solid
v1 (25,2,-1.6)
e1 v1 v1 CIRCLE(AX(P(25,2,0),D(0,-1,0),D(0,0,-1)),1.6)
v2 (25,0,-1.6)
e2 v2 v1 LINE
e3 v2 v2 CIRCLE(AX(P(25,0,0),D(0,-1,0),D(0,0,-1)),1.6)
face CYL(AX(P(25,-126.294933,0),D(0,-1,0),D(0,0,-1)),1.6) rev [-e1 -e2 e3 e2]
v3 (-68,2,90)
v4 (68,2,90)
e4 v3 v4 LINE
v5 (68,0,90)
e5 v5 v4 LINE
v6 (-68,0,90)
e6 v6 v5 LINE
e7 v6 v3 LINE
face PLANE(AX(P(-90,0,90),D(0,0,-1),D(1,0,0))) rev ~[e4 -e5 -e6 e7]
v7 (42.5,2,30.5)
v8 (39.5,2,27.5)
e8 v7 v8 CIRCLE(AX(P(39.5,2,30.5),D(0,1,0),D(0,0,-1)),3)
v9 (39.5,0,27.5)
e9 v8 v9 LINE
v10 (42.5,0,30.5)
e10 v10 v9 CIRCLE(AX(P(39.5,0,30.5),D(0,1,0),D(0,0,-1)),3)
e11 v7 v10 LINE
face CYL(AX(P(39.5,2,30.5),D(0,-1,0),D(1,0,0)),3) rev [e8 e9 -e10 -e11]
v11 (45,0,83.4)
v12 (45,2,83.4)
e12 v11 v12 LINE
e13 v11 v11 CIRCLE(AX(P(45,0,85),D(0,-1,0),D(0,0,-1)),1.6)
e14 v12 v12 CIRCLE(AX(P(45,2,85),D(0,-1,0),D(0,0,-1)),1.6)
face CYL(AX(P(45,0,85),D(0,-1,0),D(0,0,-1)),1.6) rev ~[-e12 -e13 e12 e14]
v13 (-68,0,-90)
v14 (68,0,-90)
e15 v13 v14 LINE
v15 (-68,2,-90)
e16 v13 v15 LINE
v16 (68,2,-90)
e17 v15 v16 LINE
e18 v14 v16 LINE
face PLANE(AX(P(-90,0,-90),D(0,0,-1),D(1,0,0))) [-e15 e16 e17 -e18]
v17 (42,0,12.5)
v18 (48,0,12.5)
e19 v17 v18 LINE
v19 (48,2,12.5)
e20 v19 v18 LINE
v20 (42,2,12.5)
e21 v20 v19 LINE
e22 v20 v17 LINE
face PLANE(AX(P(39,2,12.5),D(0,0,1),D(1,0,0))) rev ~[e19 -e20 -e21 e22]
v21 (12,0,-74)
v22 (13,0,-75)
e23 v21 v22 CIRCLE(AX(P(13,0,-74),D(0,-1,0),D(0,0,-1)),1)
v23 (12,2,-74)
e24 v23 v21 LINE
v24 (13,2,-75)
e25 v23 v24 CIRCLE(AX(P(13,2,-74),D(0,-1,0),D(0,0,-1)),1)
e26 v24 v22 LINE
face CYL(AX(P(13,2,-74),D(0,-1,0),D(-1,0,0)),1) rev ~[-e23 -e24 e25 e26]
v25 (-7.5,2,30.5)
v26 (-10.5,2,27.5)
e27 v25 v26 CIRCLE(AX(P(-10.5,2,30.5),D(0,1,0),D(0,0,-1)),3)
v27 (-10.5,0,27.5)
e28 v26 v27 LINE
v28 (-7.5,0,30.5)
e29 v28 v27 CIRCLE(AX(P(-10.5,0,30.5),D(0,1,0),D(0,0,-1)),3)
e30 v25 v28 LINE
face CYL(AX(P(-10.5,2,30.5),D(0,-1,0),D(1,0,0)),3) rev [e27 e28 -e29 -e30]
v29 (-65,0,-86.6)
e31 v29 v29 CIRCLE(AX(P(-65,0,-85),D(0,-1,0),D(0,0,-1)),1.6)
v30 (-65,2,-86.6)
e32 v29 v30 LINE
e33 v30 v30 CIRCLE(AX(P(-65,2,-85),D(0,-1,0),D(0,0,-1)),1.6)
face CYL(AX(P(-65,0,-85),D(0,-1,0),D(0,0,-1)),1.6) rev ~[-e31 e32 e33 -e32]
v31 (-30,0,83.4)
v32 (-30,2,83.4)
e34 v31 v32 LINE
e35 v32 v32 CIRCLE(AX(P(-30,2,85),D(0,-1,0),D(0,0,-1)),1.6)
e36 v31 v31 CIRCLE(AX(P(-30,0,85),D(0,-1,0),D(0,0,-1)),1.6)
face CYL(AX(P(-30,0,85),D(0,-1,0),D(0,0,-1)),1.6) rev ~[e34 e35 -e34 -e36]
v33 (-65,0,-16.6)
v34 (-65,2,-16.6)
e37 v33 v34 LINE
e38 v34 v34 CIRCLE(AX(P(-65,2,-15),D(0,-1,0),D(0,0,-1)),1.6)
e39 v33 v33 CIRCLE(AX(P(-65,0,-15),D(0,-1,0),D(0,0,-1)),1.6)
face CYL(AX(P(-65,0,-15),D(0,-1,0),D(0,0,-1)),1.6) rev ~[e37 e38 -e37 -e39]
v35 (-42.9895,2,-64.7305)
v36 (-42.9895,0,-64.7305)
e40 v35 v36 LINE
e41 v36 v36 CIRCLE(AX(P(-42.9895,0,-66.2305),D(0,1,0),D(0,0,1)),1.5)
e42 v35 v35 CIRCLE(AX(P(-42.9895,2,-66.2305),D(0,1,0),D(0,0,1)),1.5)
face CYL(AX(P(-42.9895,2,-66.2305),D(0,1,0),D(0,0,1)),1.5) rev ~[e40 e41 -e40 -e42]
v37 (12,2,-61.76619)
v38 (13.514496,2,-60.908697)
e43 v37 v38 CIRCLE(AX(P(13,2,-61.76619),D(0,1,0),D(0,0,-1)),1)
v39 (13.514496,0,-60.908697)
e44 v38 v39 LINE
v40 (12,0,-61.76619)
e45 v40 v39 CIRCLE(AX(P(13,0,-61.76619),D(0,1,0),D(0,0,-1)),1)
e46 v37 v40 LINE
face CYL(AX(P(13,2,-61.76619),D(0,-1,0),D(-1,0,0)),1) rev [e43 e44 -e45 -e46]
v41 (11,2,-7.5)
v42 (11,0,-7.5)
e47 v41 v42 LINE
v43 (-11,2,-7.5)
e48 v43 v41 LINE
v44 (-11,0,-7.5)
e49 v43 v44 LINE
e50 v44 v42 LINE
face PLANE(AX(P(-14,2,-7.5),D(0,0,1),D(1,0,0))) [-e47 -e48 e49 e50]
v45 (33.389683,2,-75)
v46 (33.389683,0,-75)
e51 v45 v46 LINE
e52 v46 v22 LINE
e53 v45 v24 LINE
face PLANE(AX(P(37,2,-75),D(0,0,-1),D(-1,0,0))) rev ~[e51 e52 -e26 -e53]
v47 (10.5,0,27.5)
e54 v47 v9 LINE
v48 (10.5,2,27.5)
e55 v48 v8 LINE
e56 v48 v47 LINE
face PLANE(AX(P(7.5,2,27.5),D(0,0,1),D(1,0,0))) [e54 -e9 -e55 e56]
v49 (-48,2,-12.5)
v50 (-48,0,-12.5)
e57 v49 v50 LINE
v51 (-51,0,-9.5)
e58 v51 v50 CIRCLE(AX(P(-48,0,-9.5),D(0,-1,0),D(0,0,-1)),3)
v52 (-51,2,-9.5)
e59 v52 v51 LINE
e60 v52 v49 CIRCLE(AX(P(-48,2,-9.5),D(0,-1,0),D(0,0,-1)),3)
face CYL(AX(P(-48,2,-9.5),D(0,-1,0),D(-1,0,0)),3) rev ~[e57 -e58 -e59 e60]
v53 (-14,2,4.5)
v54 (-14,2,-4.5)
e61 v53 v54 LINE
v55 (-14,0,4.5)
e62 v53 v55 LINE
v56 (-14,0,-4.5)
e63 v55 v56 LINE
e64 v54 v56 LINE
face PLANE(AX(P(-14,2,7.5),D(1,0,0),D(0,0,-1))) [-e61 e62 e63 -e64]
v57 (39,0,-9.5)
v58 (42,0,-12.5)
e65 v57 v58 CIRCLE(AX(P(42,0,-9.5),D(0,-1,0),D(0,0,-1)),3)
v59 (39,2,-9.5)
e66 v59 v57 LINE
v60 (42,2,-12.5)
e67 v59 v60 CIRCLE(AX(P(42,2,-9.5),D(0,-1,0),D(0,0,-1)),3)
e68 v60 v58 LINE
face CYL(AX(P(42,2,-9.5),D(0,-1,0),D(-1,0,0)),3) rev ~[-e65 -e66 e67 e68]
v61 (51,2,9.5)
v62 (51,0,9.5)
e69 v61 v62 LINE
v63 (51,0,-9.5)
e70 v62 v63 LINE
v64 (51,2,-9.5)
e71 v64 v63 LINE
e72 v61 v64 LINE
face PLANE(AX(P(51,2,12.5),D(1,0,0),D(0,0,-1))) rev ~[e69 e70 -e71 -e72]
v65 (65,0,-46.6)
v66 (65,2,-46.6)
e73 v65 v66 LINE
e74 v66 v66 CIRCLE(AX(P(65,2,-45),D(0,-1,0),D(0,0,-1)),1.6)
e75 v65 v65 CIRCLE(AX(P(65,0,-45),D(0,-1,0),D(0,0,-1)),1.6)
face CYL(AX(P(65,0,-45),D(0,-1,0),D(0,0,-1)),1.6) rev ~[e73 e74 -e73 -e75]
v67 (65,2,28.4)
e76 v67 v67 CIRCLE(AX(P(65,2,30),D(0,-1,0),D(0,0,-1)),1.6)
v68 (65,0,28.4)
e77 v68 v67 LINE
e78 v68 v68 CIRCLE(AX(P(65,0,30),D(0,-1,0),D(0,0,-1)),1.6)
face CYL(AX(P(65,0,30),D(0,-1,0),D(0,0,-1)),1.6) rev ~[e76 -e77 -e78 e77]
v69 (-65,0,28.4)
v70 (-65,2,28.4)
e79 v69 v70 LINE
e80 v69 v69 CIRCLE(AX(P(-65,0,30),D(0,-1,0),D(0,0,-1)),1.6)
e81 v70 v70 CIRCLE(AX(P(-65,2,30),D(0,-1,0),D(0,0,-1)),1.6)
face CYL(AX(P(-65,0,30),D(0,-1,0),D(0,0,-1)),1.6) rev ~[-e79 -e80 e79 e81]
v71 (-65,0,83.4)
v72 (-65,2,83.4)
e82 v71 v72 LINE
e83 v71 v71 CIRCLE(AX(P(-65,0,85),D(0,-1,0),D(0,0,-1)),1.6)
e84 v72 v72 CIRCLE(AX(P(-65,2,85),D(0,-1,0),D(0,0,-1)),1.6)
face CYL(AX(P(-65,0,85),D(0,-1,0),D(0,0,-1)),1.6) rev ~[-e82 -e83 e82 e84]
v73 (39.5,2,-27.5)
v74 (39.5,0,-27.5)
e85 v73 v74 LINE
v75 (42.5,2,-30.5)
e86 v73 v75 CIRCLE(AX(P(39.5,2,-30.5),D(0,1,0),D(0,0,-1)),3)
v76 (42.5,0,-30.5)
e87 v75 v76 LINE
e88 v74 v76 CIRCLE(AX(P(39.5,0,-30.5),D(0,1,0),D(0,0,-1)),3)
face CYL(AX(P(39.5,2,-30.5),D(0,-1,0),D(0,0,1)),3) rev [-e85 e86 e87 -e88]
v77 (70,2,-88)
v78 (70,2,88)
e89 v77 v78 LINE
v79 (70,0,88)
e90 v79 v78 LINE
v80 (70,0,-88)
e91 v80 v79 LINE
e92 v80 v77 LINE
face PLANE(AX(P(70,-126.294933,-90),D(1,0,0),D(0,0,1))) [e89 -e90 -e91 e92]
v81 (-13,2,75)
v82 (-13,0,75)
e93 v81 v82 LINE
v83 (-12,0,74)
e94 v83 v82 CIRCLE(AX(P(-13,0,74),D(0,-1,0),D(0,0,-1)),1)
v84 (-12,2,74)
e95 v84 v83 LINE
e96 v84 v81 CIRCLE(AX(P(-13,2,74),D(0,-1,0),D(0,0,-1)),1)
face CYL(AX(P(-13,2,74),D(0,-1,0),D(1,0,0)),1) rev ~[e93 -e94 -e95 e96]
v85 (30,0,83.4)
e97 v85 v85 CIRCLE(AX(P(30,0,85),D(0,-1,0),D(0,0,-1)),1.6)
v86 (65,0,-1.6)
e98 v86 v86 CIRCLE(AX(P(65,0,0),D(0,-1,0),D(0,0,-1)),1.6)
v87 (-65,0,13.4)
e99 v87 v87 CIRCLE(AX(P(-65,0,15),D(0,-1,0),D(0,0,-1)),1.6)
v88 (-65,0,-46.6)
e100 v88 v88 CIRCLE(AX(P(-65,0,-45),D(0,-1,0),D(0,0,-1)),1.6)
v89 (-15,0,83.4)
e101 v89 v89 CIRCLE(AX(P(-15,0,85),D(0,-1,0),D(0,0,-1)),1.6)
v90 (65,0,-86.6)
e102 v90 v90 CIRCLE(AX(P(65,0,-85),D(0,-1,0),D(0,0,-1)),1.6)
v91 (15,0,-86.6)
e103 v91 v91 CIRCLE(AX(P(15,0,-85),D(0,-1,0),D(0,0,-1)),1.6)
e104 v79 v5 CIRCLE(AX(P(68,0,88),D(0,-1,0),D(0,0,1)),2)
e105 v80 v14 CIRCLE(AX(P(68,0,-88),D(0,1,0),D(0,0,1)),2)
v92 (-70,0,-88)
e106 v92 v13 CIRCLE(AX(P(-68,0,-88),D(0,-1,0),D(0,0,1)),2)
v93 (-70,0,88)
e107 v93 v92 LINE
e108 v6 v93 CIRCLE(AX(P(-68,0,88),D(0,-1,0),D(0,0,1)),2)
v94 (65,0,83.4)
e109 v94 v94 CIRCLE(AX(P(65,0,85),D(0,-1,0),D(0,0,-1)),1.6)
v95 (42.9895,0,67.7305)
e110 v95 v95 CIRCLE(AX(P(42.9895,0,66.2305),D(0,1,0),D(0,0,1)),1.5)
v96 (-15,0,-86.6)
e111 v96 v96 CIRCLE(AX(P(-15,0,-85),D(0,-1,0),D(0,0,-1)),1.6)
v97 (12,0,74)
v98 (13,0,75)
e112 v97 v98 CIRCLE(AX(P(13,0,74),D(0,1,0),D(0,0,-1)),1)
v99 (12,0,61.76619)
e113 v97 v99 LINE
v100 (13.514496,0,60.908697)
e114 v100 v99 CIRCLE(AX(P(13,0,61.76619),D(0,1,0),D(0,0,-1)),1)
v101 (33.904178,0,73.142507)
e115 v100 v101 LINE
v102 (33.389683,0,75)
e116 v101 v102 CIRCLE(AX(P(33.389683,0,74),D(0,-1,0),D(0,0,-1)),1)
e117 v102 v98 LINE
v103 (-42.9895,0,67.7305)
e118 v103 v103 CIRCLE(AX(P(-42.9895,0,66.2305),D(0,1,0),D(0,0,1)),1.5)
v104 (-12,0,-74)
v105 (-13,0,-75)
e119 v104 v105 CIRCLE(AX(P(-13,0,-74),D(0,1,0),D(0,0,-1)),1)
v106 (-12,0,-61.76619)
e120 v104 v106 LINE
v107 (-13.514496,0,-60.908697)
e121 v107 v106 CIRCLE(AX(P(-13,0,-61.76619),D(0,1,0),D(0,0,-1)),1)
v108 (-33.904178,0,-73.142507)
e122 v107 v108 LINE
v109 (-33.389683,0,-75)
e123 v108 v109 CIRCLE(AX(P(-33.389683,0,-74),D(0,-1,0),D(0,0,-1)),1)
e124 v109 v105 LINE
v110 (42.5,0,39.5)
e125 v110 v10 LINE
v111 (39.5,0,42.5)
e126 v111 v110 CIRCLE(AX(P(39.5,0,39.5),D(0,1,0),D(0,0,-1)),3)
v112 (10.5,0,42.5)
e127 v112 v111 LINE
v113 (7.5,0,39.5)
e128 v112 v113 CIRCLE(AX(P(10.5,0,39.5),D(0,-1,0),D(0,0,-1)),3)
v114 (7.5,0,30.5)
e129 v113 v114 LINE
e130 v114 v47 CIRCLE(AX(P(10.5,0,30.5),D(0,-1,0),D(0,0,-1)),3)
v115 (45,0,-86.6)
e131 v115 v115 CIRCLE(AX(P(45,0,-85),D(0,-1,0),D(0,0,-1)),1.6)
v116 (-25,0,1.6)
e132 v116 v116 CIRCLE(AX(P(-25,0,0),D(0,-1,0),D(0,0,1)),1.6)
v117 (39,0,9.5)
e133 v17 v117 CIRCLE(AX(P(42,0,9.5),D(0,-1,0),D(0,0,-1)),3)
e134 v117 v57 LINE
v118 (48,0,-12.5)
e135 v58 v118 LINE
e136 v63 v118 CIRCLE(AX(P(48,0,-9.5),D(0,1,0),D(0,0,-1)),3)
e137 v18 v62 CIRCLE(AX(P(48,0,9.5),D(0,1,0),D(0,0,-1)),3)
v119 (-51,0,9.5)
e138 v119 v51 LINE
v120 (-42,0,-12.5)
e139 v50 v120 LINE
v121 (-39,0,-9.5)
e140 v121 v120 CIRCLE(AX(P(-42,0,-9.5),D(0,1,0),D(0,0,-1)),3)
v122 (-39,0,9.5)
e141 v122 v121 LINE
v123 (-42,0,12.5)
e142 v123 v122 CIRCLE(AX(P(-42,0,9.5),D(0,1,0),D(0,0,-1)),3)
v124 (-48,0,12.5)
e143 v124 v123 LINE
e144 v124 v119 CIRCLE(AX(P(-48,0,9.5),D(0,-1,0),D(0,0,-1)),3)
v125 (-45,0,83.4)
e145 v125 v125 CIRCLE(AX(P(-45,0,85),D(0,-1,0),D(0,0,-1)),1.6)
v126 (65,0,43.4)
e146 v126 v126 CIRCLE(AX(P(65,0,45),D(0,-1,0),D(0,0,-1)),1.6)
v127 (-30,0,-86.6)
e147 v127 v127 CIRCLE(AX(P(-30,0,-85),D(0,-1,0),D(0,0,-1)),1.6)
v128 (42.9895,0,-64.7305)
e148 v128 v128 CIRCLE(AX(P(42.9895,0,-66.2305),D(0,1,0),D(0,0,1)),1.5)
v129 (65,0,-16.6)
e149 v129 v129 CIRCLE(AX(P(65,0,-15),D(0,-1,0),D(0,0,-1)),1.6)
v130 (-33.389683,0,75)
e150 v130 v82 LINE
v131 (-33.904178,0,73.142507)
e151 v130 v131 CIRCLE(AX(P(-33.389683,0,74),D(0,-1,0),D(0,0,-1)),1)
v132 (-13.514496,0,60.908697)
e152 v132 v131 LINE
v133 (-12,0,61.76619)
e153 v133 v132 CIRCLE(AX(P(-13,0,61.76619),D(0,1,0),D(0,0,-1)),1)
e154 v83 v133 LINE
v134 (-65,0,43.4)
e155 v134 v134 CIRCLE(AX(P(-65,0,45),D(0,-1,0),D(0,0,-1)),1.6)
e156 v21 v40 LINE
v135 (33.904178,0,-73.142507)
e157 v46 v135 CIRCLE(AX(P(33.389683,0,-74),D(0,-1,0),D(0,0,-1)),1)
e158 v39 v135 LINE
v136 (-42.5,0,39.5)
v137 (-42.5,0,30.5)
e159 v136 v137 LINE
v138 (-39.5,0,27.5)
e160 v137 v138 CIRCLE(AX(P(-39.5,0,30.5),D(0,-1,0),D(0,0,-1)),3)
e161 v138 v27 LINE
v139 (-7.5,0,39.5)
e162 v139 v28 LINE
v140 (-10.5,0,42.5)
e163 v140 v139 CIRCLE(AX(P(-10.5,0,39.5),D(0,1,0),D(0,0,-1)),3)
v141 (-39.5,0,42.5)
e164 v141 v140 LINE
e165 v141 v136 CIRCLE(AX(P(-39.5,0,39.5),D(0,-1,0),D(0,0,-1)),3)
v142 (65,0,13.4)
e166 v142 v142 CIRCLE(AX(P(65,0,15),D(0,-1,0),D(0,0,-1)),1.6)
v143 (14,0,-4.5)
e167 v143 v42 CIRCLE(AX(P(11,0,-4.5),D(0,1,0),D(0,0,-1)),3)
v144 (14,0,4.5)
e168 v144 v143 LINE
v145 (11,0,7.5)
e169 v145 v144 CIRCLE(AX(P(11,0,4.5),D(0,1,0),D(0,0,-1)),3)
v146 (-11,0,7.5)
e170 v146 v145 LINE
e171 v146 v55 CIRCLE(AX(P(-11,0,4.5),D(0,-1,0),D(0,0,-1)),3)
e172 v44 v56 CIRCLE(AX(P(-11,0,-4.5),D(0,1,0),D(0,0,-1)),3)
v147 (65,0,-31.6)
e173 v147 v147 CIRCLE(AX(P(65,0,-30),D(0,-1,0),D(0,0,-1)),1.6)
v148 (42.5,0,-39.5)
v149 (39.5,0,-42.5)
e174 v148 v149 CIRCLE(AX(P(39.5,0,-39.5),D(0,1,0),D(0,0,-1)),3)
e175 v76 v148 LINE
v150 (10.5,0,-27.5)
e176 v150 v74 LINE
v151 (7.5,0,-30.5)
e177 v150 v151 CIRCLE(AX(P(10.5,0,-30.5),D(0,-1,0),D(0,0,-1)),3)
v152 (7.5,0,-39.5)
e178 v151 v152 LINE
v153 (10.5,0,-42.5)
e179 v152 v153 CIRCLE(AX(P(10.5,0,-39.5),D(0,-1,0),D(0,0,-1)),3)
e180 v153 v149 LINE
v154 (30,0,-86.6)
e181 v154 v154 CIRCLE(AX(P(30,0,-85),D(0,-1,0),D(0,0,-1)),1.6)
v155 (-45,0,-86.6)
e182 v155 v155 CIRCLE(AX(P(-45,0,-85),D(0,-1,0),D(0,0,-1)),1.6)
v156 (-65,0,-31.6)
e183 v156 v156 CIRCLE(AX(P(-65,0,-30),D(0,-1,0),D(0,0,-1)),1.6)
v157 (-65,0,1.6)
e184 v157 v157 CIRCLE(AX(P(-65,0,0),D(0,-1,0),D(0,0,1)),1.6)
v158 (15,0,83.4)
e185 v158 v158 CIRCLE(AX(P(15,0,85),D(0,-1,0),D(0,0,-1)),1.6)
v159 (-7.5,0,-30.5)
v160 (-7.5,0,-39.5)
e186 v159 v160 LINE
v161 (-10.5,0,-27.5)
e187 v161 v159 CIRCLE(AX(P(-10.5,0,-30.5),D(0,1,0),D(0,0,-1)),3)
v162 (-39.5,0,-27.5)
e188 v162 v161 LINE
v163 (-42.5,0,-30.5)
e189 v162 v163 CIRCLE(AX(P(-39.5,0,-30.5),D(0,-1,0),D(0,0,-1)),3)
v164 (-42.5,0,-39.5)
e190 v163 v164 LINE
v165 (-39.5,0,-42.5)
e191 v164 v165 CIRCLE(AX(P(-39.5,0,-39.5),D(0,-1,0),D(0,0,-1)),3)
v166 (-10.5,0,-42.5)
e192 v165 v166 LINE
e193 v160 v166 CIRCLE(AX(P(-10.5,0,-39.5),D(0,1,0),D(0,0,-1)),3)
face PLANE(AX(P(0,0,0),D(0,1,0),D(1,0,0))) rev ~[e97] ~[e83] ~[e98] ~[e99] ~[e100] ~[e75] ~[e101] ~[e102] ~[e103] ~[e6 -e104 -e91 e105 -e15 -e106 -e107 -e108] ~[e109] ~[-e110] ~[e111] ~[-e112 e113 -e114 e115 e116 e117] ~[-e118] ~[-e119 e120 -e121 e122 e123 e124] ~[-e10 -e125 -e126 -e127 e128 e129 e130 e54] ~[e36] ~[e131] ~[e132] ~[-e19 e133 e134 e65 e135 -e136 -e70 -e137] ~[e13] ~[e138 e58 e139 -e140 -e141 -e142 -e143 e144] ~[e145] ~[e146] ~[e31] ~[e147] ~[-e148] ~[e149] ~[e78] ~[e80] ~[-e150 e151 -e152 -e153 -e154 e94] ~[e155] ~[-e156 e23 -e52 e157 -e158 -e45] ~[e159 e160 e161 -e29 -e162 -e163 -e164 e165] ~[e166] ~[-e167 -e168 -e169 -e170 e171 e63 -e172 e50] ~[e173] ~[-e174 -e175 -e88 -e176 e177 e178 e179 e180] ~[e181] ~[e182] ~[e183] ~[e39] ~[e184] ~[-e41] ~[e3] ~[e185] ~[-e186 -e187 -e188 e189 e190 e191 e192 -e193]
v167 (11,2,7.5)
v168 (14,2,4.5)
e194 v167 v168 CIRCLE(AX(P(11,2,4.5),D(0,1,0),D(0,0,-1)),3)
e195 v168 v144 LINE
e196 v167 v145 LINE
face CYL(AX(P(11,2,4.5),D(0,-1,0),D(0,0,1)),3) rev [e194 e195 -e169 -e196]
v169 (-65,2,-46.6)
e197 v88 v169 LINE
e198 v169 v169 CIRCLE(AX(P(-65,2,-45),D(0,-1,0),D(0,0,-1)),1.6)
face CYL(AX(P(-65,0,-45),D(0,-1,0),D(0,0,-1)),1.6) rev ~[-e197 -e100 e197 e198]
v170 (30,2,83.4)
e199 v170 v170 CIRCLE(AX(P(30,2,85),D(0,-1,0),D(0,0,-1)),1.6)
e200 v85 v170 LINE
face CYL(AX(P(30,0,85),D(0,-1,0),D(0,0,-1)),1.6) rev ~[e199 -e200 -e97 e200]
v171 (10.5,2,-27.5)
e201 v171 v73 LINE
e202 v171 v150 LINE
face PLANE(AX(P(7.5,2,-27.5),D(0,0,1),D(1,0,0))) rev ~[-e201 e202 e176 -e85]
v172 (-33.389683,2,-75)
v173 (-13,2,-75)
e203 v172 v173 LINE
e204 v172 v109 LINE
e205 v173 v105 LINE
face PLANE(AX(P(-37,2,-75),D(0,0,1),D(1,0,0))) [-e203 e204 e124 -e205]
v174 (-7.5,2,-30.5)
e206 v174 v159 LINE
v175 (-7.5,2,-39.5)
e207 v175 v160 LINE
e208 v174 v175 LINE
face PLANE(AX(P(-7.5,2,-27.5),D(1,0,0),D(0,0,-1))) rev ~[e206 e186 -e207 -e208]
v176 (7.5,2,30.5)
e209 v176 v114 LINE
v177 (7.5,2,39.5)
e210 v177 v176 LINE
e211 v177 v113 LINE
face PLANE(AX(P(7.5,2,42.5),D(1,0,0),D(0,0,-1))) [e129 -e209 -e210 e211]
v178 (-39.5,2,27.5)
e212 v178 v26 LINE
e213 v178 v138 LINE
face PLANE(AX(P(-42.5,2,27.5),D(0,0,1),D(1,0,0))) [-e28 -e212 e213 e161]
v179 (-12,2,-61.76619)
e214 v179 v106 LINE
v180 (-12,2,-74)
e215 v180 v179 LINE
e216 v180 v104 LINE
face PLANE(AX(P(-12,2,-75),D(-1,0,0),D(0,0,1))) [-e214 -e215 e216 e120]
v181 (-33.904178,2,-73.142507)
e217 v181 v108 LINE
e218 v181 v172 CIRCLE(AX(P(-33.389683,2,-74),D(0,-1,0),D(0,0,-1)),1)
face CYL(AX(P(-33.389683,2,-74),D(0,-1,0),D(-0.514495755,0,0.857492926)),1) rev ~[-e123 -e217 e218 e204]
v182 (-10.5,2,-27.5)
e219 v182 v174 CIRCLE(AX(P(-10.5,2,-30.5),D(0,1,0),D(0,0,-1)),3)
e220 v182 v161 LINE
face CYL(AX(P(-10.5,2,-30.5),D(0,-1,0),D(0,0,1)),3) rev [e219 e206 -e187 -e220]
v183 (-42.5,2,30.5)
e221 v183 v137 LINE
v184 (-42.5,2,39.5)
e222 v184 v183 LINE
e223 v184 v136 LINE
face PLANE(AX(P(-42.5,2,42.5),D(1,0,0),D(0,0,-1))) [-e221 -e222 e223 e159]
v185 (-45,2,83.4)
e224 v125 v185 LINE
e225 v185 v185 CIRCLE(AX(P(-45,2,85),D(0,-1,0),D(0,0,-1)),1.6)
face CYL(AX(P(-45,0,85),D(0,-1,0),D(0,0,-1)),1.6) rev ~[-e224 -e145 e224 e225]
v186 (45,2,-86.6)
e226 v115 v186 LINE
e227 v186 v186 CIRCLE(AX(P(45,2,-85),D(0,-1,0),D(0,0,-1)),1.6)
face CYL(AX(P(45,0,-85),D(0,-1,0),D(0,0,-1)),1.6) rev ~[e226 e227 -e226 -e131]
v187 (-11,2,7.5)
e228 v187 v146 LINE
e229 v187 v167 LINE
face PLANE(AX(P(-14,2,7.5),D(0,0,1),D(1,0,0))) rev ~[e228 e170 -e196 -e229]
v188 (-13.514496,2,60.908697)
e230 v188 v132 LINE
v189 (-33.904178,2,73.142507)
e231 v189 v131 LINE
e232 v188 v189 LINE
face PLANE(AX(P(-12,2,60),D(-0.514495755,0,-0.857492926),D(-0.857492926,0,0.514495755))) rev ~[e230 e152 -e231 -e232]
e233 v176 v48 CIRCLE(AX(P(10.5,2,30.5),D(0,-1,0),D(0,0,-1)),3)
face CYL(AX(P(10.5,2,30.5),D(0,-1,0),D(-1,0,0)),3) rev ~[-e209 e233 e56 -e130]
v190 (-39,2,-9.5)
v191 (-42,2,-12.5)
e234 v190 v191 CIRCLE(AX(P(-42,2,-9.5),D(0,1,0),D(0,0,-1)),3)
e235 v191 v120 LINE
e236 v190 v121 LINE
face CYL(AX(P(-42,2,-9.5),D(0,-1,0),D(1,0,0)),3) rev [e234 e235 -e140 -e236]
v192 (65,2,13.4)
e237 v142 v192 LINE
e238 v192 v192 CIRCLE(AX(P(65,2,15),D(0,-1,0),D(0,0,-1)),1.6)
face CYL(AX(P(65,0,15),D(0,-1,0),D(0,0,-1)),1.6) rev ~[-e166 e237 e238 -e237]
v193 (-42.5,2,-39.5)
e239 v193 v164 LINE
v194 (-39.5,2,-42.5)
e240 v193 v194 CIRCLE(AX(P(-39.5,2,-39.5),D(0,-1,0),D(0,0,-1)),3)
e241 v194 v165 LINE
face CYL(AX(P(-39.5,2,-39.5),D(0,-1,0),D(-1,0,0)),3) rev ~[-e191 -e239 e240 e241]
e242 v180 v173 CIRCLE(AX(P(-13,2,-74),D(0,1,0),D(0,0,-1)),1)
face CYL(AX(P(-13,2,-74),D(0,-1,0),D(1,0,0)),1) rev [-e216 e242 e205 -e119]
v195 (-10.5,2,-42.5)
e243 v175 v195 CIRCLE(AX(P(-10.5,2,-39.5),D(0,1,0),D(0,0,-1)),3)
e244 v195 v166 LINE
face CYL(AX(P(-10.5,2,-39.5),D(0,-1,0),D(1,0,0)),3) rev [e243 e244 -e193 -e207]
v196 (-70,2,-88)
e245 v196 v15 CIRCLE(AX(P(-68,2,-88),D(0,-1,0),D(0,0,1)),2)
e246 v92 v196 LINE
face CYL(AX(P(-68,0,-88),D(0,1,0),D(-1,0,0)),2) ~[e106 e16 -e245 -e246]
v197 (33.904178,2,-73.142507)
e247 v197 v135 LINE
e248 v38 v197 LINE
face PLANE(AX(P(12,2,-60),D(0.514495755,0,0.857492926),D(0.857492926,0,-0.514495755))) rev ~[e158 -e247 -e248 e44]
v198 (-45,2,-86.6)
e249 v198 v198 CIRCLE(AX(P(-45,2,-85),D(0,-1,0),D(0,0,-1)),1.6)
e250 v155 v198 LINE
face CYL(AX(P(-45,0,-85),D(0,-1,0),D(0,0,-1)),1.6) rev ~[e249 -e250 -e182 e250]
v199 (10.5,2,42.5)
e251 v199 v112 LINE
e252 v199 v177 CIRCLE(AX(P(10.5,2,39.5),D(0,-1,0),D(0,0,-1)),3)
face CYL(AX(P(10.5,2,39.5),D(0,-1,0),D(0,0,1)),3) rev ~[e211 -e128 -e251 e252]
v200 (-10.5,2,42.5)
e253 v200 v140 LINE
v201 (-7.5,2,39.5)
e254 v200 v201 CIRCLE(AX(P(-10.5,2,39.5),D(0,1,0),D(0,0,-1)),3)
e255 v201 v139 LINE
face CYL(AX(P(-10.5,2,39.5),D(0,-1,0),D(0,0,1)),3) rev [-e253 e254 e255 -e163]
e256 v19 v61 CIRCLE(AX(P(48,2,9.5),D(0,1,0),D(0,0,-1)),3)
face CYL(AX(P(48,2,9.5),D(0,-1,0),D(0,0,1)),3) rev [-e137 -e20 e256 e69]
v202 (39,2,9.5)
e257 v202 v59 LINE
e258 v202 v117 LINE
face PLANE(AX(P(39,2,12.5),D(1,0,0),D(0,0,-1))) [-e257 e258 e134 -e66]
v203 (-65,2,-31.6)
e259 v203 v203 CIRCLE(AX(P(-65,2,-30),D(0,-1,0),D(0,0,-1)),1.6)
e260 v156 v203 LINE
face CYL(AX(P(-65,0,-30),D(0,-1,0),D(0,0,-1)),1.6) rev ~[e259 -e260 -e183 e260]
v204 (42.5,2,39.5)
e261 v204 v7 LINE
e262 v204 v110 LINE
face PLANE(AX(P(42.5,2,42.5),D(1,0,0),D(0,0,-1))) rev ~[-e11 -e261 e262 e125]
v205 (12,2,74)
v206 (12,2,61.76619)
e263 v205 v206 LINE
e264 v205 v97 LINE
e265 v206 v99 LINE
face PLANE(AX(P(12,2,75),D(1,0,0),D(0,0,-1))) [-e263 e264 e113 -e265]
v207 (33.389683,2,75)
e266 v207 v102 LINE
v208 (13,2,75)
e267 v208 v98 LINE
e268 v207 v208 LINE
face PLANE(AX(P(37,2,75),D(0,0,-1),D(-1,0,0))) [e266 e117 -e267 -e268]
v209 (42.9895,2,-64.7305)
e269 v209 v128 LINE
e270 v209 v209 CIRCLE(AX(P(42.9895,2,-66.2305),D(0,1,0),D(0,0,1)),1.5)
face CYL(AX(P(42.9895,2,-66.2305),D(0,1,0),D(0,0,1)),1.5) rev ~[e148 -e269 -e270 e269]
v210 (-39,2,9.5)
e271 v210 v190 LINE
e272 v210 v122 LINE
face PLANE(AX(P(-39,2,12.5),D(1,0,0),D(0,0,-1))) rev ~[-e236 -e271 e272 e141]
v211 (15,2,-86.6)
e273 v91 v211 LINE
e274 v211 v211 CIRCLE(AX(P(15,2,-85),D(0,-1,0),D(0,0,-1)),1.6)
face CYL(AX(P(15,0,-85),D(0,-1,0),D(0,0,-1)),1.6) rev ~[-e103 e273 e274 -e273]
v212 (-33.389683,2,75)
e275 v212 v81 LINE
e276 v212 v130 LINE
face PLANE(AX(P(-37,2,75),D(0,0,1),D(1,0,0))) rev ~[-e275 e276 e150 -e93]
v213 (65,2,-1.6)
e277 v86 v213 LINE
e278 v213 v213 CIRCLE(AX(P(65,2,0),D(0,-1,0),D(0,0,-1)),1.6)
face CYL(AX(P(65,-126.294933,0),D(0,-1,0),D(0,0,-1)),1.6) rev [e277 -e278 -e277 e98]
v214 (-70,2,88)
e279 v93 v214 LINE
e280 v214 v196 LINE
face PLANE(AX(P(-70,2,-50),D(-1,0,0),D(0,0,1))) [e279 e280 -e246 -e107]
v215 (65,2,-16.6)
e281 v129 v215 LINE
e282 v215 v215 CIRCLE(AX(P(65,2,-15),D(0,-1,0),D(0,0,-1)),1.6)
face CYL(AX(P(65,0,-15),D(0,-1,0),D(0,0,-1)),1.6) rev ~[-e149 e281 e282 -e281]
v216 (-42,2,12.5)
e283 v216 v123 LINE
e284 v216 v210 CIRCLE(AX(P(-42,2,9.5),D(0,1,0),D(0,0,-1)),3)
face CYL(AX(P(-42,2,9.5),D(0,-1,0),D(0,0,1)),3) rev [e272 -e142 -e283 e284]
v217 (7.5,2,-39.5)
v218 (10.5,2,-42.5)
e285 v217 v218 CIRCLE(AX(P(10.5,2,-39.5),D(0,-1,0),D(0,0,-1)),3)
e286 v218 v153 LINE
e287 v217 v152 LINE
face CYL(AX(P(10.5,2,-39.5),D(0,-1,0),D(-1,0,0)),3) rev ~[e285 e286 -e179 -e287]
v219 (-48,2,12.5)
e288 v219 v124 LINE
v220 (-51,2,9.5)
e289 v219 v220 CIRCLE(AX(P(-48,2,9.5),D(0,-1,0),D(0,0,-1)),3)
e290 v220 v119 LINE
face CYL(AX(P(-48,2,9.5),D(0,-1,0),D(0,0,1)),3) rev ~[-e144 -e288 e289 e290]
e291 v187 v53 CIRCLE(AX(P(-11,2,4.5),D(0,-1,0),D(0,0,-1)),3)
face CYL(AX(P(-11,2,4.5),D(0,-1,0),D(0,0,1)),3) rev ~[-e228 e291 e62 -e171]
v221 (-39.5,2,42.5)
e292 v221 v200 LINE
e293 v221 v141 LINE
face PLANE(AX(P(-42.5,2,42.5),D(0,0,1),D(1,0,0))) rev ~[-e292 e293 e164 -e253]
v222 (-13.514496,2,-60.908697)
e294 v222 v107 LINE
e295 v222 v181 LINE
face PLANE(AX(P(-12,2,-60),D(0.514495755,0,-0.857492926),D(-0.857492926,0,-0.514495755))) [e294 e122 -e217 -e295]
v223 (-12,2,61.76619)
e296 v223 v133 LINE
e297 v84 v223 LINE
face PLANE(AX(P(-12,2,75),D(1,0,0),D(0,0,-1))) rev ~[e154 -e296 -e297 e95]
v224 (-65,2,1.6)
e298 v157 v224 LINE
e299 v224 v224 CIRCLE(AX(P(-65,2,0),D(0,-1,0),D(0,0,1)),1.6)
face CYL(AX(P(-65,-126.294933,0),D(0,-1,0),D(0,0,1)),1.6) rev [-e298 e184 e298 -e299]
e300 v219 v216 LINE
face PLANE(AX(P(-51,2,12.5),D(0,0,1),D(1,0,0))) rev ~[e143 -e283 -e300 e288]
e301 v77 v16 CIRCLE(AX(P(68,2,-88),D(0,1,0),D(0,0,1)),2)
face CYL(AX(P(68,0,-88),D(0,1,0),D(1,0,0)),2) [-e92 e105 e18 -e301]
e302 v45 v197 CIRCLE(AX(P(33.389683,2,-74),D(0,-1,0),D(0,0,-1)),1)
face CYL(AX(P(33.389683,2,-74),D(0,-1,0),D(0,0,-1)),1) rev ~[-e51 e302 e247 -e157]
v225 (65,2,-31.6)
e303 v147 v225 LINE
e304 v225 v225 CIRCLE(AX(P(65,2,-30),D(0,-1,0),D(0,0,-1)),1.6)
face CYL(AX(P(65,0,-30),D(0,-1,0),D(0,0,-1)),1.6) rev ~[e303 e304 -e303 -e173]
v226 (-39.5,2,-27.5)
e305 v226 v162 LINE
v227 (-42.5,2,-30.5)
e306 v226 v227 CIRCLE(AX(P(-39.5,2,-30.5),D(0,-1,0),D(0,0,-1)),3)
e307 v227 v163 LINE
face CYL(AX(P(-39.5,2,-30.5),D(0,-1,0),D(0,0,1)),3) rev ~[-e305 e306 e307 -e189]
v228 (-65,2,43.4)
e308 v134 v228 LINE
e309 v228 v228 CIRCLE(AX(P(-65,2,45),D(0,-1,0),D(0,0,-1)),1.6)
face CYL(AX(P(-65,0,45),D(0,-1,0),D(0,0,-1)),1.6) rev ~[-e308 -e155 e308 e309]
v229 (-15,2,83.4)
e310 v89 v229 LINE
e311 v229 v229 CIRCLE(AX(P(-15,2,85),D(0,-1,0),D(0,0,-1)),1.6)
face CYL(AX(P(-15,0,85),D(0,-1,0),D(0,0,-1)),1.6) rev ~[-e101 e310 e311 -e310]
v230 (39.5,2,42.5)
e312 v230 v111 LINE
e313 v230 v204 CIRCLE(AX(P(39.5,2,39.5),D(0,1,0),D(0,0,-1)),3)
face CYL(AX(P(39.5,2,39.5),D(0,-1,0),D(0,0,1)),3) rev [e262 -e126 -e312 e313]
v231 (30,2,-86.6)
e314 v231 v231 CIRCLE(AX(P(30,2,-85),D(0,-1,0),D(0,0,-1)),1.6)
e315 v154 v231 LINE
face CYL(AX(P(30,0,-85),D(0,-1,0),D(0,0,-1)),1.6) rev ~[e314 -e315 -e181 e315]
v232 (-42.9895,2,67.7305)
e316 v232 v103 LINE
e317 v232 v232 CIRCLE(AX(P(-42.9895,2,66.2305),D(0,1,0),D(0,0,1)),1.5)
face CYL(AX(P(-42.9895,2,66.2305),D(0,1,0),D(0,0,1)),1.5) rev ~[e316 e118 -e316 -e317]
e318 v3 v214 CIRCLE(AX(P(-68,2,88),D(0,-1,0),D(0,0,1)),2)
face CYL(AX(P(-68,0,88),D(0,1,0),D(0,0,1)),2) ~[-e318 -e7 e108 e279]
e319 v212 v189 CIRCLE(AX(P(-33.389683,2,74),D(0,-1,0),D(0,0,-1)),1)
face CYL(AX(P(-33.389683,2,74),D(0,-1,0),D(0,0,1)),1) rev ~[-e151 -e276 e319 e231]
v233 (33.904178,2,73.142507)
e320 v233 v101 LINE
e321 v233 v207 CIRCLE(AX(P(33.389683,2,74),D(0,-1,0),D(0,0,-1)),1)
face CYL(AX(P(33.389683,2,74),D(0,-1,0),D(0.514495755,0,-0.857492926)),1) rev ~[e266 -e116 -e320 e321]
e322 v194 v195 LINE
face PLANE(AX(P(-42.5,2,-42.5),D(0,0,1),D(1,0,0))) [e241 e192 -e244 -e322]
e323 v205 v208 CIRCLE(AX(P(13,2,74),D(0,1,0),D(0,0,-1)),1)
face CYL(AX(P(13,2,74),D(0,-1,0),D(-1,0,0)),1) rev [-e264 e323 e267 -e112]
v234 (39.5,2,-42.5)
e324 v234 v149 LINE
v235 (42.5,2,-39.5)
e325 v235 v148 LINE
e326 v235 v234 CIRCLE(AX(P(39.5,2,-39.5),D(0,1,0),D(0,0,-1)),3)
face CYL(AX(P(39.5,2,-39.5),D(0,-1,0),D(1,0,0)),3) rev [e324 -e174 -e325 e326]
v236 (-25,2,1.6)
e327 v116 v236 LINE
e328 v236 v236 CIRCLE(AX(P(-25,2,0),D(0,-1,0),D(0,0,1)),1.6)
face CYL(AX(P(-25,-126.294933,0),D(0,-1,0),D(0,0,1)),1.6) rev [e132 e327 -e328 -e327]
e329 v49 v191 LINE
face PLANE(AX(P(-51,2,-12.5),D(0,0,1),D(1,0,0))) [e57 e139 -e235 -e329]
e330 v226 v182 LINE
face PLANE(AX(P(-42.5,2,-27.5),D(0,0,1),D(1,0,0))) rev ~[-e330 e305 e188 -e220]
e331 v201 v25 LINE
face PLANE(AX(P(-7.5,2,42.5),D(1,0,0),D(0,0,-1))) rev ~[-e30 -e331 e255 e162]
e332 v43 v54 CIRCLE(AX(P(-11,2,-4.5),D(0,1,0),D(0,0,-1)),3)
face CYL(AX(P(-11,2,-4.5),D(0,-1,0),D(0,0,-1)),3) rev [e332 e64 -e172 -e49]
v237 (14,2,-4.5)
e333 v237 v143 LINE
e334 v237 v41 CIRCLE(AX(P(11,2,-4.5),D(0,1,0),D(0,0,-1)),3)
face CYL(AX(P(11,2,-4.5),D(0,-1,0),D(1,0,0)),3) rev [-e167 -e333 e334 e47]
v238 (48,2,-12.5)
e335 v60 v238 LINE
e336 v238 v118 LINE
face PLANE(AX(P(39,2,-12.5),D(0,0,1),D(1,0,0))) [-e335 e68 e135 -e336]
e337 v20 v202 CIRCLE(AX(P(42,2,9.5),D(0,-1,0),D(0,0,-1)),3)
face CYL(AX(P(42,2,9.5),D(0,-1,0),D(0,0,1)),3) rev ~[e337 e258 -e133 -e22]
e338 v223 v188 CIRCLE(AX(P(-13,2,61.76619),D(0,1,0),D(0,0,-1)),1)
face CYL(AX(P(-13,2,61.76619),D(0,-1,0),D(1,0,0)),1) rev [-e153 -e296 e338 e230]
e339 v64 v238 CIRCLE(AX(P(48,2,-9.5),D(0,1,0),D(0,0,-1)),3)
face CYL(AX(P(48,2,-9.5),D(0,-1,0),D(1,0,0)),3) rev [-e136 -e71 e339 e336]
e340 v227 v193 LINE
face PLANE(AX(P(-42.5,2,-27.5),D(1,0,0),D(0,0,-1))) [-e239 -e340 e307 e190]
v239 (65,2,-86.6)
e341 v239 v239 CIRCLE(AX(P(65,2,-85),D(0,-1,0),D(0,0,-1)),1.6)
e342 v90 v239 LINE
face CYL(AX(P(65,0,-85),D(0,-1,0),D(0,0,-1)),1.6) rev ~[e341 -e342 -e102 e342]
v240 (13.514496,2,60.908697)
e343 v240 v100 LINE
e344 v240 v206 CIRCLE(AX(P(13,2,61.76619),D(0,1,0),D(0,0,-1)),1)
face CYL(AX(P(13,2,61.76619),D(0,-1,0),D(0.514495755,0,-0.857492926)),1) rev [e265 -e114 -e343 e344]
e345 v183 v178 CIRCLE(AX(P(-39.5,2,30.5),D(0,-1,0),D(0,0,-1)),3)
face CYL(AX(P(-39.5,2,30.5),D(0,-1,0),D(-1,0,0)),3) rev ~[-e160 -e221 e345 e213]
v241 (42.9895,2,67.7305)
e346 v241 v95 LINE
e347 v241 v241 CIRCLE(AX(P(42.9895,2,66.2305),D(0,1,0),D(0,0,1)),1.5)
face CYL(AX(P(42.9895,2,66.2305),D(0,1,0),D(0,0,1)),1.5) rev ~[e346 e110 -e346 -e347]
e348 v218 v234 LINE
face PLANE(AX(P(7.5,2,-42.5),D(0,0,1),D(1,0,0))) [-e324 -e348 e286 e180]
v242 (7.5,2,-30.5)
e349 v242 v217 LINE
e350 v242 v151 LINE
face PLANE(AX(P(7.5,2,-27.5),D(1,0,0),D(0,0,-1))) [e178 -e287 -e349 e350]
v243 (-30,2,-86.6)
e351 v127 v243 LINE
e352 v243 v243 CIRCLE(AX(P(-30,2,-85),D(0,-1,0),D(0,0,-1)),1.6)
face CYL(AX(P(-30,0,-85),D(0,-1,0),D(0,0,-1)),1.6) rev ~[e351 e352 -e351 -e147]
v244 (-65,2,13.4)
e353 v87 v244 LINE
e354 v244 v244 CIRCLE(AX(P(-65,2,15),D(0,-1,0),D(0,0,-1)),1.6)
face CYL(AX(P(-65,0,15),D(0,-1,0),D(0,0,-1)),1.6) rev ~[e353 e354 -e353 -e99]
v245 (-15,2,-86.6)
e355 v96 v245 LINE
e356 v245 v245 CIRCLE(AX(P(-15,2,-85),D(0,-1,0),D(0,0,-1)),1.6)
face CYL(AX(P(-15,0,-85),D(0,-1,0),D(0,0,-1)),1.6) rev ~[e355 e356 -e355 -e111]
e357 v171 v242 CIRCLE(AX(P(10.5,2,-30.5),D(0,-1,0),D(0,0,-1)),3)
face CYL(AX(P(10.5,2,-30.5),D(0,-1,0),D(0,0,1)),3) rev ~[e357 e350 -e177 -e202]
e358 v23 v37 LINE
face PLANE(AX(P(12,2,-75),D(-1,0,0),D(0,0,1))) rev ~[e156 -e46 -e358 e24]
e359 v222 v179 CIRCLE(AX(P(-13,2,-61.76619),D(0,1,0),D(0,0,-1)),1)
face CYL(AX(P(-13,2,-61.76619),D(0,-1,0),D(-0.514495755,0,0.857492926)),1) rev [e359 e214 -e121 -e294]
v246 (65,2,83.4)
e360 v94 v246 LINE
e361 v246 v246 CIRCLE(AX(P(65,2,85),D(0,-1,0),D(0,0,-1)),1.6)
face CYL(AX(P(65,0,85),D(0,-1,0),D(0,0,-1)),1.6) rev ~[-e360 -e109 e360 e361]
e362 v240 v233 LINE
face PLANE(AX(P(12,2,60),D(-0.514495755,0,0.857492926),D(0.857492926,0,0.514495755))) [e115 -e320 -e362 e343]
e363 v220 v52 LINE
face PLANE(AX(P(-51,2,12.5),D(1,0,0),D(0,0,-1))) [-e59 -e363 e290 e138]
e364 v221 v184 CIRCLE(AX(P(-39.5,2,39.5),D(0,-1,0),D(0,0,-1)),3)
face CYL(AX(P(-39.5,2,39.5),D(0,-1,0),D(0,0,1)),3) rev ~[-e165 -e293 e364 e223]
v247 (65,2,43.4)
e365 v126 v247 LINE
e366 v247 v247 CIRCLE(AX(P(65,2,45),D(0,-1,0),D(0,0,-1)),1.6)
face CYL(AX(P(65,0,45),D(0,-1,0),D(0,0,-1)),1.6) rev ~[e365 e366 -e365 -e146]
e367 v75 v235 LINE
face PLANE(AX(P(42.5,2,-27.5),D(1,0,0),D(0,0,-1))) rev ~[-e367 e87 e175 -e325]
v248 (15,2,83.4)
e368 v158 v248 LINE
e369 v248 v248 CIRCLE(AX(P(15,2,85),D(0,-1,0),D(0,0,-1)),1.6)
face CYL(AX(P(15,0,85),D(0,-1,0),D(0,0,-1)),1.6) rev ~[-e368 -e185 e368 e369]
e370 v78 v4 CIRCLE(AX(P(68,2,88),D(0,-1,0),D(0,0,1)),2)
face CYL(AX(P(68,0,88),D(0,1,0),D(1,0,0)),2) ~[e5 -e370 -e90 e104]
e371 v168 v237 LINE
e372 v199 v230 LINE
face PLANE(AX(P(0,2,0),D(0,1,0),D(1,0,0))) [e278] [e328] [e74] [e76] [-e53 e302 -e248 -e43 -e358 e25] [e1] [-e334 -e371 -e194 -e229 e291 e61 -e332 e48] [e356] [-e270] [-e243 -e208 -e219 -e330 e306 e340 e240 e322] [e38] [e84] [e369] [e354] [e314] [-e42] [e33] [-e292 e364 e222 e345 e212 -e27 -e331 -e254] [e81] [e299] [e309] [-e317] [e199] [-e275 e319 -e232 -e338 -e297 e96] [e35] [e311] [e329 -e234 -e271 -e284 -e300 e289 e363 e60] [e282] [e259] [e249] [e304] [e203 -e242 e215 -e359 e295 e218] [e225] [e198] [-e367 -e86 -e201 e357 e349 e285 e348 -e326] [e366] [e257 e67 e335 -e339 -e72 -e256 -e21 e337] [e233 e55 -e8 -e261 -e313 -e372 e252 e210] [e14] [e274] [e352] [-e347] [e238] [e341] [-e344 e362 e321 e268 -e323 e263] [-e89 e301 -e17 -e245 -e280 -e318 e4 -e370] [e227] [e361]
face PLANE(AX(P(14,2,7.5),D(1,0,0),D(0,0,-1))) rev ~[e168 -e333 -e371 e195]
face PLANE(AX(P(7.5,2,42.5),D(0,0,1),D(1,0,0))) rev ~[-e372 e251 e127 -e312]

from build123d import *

# Parameters (mm, degrees)
SKETCH_1_W               = 180
SKETCH_1_H               = 180
EXTRUDE_1_DEPTH          = 2
SKETCH_2_R               = 1.5
CUT_EXTRUDE_1_DEPTH      = 3
SKETCH_3_W               = 28
SKETCH_3_H               = 15
SKETCH_3_W_2             = 35
SKETCH_3_W_3             = 12
SKETCH_3_H_2             = 25
CUT_EXTRUDE_2_DEPTH      = 3
FILLET_1_R               = 3
SKETCH_5_R               = 1.7
CUT_EXTRUDE_3_DEPTH      = 128.294933128
CUT_EXTRUDE_4_DEPTH      = 10
SKETCH_7_R               = 1.6
CUT_EXTRUDE_5_DEPTH      = 10
FILLET_2_R               = 3
FILLET_3_R               = 1
CUT_EXTRUDE_6_DEPTH      = 128.294933128
CUT_EXTRUDE_6_DEPTH_BACK = 128.294933128
SKETCH_8_R               = 1.6
FILLET_4_R               = 2


with BuildPart() as part:
    # 草图1 → 凸台-拉伸1 (new body)
    with BuildSketch(Plane(origin=(0, 0, 0), x_dir=(1, 0, 0), z_dir=(0, 1, 0))):
        Rectangle(SKETCH_1_W, SKETCH_1_H)
    extrude(amount=EXTRUDE_1_DEPTH)

    # 草图2 → 切除-拉伸1 (cut)
    with BuildSketch(Plane(origin=(0, 2, 0), x_dir=(1, 0, 0), z_dir=(0, 1, 0))):
        with Locations(Location((-42.9895, 66.2305, 0), (0, 0, 270))):
            Circle(SKETCH_2_R)
        with Locations(Location((42.9895, 66.2305, 0), (0, 0, 270))):
            Circle(SKETCH_2_R)
        with Locations(Location((-42.9895, -66.2305, 0), (0, 0, 270))):
            Circle(SKETCH_2_R)
        with Locations(Location((42.9895, -66.2305, 0), (0, 0, 270))):
            Circle(SKETCH_2_R)
    extrude(amount=-CUT_EXTRUDE_1_DEPTH, mode=Mode.SUBTRACT)

    # 草图3 → 切除-拉伸2 (cut)
    with BuildSketch(Plane(origin=(0, 2, 0), x_dir=(1, 0, 0), z_dir=(0, 1, 0))):
        Rectangle(SKETCH_3_W, SKETCH_3_H)
        with Locations((-25, 35)):
            Rectangle(SKETCH_3_W_2, SKETCH_3_H)
        with Locations((25, 35)):
            Rectangle(SKETCH_3_W_2, SKETCH_3_H)
        with Locations((45, 0)):
            Rectangle(SKETCH_3_W_3, SKETCH_3_H_2)
        with Locations((-45, 0)):
            Rectangle(SKETCH_3_W_3, SKETCH_3_H_2)
        with Locations((-25, -35)):
            Rectangle(SKETCH_3_W_2, SKETCH_3_H)
        with Locations((25, -35)):
            Rectangle(SKETCH_3_W_2, SKETCH_3_H)
        Polygon((-37, 75), (-12, 75), (-12, 60), align=None)
        Polygon((12, 75), (12, 60), (37, 75), align=None)
        Polygon((37, -75), (12, -75), (12, -60), align=None)
        Polygon((-12, -75), (-12, -60), (-37, -75), align=None)
    extrude(amount=-CUT_EXTRUDE_2_DEPTH, mode=Mode.SUBTRACT)

    # 圆角1
    fillet_1_edges = [part.edges().sort_by_distance(p)[0] for p in [
        (14, 1, -7.5),
        (14, 1, 7.5),
        (-14, 1, 7.5),
        (-14, 1, -7.5),
    ]]
    fillet(fillet_1_edges, radius=FILLET_1_R)

    # 草图5 → 切除-拉伸3 (cut, through all)
    with BuildSketch(Plane(origin=(0, 2, 0), x_dir=(1, 0, 0), z_dir=(0, 1, 0))):
        with Locations(Location((77.5, 69.014718626, 0), (0, 0, 270))):
            Circle(SKETCH_5_R)
        with Locations(Location((77.5, 85.985281374, 0), (0, 0, 270))):
            Circle(SKETCH_5_R)
        with Locations(Location((85.985281374, 77.5, 0), (0, 0, 270))):
            Circle(SKETCH_5_R)
        with Locations(Location((-85.985281374, 77.5, 0), (0, 0, 90))):
            Circle(SKETCH_5_R)
        with Locations(Location((-77.5, 85.985281374, 0), (0, 0, 90))):
            Circle(SKETCH_5_R)
        with Locations(Location((-77.5, -85.985281374, 0), (0, 0, 270))):
            Circle(SKETCH_5_R)
        with Locations(Location((-85.985281374, -77.5, 0), (0, 0, 270))):
            Circle(SKETCH_5_R)
        with Locations(Location((85.985281374, -77.5, 0), (0, 0, 90))):
            Circle(SKETCH_5_R)
        with Locations(Location((77.5, -85.985281374, 0), (0, 0, 90))):
            Circle(SKETCH_5_R)
        Polygon((80, 90), (90, 80), (90, 90), align=None)
        Polygon((-90, 90), (-80, 90), (-90, 80), align=None)
        Polygon((-80, -90), (-90, -80), (-90, -90), align=None)
        Polygon((90, -90), (80, -90), (90, -80), align=None)
    extrude(amount=-CUT_EXTRUDE_3_DEPTH, mode=Mode.SUBTRACT)

    # 草图6 → 切除-拉伸4 (cut)
    with BuildSketch(Plane(origin=(0, 2, 0), x_dir=(1, 0, 0), z_dir=(0, 1, 0))):
        Polygon((90, 70), (70, 50), (70, -50), (90, -70), align=None)
        Polygon((-70, -50), (-90, -70), (-90, 70), (-70, 50), align=None)
    extrude(amount=-CUT_EXTRUDE_4_DEPTH, mode=Mode.SUBTRACT)

    # 草图7 → 切除-拉伸5 (cut)
    with BuildSketch(Plane.XZ):
        with Locations(Location((-65, 30, 0), (0, 0, 270))):
            Circle(SKETCH_7_R)
        with Locations(Location((-65, 15, 0), (0, 0, 270))):
            Circle(SKETCH_7_R)
        with Locations(Location((-65, 45, 0), (0, 0, 270))):
            Circle(SKETCH_7_R)
        with Locations(Location((-45, 85, 0), (0, 0, 270))):
            Circle(SKETCH_7_R)
        with Locations(Location((-30, 85, 0), (0, 0, 270))):
            Circle(SKETCH_7_R)
        with Locations(Location((-15, 85, 0), (0, 0, 270))):
            Circle(SKETCH_7_R)
        with Locations(Location((15, 85, 0), (0, 0, 270))):
            Circle(SKETCH_7_R)
        with Locations(Location((30, 85, 0), (0, 0, 270))):
            Circle(SKETCH_7_R)
        with Locations(Location((45, 85, 0), (0, 0, 270))):
            Circle(SKETCH_7_R)
        with Locations(Location((-65, -45, 0), (0, 0, 270))):
            Circle(SKETCH_7_R)
        with Locations(Location((-65, -15, 0), (0, 0, 270))):
            Circle(SKETCH_7_R)
        with Locations(Location((-65, -30, 0), (0, 0, 270))):
            Circle(SKETCH_7_R)
        with Locations(Location((65, -30, 0), (0, 0, 270))):
            Circle(SKETCH_7_R)
        with Locations(Location((65, -15, 0), (0, 0, 270))):
            Circle(SKETCH_7_R)
        with Locations(Location((65, -45, 0), (0, 0, 270))):
            Circle(SKETCH_7_R)
        with Locations(Location((65, 45, 0), (0, 0, 270))):
            Circle(SKETCH_7_R)
        with Locations(Location((65, 15, 0), (0, 0, 270))):
            Circle(SKETCH_7_R)
        with Locations(Location((65, 30, 0), (0, 0, 270))):
            Circle(SKETCH_7_R)
        with Locations(Location((45, -85, 0), (0, 0, 270))):
            Circle(SKETCH_7_R)
        with Locations(Location((30, -85, 0), (0, 0, 270))):
            Circle(SKETCH_7_R)
        with Locations(Location((15, -85, 0), (0, 0, 270))):
            Circle(SKETCH_7_R)
        with Locations(Location((-15, -85, 0), (0, 0, 270))):
            Circle(SKETCH_7_R)
        with Locations(Location((-30, -85, 0), (0, 0, 270))):
            Circle(SKETCH_7_R)
        with Locations(Location((-45, -85, 0), (0, 0, 270))):
            Circle(SKETCH_7_R)
        with Locations(Location((-65, 85, 0), (0, 0, 270))):
            Circle(SKETCH_7_R)
        with Locations(Location((65, 85, 0), (0, 0, 270))):
            Circle(SKETCH_7_R)
        with Locations(Location((65, -85, 0), (0, 0, 270))):
            Circle(SKETCH_7_R)
        with Locations(Location((-65, -85, 0), (0, 0, 270))):
            Circle(SKETCH_7_R)
    extrude(amount=-CUT_EXTRUDE_5_DEPTH, mode=Mode.SUBTRACT)

    # 圆角2
    fillet_2_edges = [part.edges().sort_by_distance(p)[0] for p in [
        (42.5, 1, -42.5),
        (42.5, 1, -27.5),
        (7.5, 1, -27.5),
        (7.5, 1, -42.5),
        (-39, 1, -12.5),
        (-39, 1, 12.5),
        (-51, 1, 12.5),
        (-51, 1, -12.5),
        (51, 1, -12.5),
        (51, 1, 12.5),
        (39, 1, 12.5),
        (39, 1, -12.5),
        (-42.5, 1, 42.5),
        (-42.5, 1, 27.5),
        (-7.5, 1, 27.5),
        (-7.5, 1, 42.5),
        (7.5, 1, 27.5),
        (42.5, 1, 27.5),
        (42.5, 1, 42.5),
        (7.5, 1, 42.5),
        (-90, 1, -80),
        (-80, 1, -90),
        (80, 1, -90),
        (90, 1, -80),
        (90, 1, 80),
        (80, 1, 90),
        (-80, 1, 90),
        (-90, 1, 80),
        (90, 1, -70),
        (90, 1, 70),
        (70, 1, 50),
        (70, 1, -50),
        (-70, 1, -50),
        (-70, 1, 50),
        (-90, 1, 70),
        (-90, 1, -70),
        (-7.5, 1, -42.5),
        (-7.5, 1, -27.5),
        (-42.5, 1, -27.5),
        (-42.5, 1, -42.5),
    ]]
    fillet(fillet_2_edges, radius=FILLET_2_R)

    # 圆角3
    fillet_3_edges = [part.edges().sort_by_distance(p)[0] for p in [
        (-12, 1, -60),
        (-37, 1, -75),
        (-12, 1, -75),
        (12, 1, -75),
        (37, 1, -75),
        (12, 1, -60),
        (-12, 1, 75),
        (-37, 1, 75),
        (-12, 1, 60),
        (12, 1, 60),
        (37, 1, 75),
        (12, 1, 75),
    ]]
    fillet(fillet_3_edges, radius=FILLET_3_R)

    # 草图8 → 切除-拉伸6 (cut, two sides: drawn at the far end of the back side and taken through both)
    with BuildSketch(Plane(origin=(0, 2, 0), x_dir=(1, 0, 0), z_dir=(0, 1, 0)).offset(-CUT_EXTRUDE_6_DEPTH_BACK)):
        with BuildLine():
            Line((-70, 48.757359313), (-70, 90))
            Line((-70, 90), (-78.757359313, 90))
            ThreePointArc((-78.757359313, 90), (-79.90540961, 89.771638598), (-80.878679656, 89.121320344))
            Line((-80.878679656, 89.121320344), (-89.121320344, 80.878679656))
            ThreePointArc((-89.121320344, 80.878679656), (-89.771638598, 79.90540961), (-90, 78.757359313))
            Line((-90, 78.757359313), (-90, 71.242640687))
            ThreePointArc((-90, 71.242640687), (-89.771638598, 70.09459039), (-89.121320344, 69.121320344))
            Line((-89.121320344, 69.121320344), (-70.878679656, 50.878679656))
            ThreePointArc((-70.878679656, 50.878679656), (-70.228361402, 49.90540961), (-70, 48.757359313))
        make_face()
        with BuildLine():
            Line((-70, -90), (-70, -48.757359313))
            ThreePointArc((-70, -48.757359313), (-70.228361402, -49.90540961), (-70.878679656, -50.878679656))
            Line((-70.878679656, -50.878679656), (-89.121320344, -69.121320344))
            ThreePointArc((-89.121320344, -69.121320344), (-89.771638598, -70.09459039), (-90, -71.242640687))
            Line((-90, -71.242640687), (-90, -78.757359313))
            ThreePointArc((-90, -78.757359313), (-89.771638598, -79.90540961), (-89.121320344, -80.878679656))
            Line((-89.121320344, -80.878679656), (-80.878679656, -89.121320344))
            ThreePointArc((-80.878679656, -89.121320344), (-79.90540961, -89.771638598), (-78.757359313, -90))
            Line((-78.757359313, -90), (-70, -90))
        make_face()
        with BuildLine():
            ThreePointArc((70.878679656, -50.878679656), (70.228361402, -49.90540961), (70, -48.757359313))
            Line((70, -48.757359313), (70, -90))
            Line((70, -90), (78.757359313, -90))
            ThreePointArc((78.757359313, -90), (79.90540961, -89.771638598), (80.878679656, -89.121320344))
            Line((80.878679656, -89.121320344), (89.121320344, -80.878679656))
            ThreePointArc((89.121320344, -80.878679656), (89.771638598, -79.90540961), (90, -78.757359313))
            Line((90, -78.757359313), (90, -71.242640687))
            ThreePointArc((90, -71.242640687), (89.771638598, -70.09459039), (89.121320344, -69.121320344))
            Line((89.121320344, -69.121320344), (70.878679656, -50.878679656))
        make_face()
        with BuildLine():
            Line((78.757359313, 90), (70, 90))
            Line((70, 90), (70, 48.757359313))
            ThreePointArc((70, 48.757359313), (70.228361402, 49.90540961), (70.878679656, 50.878679656))
            Line((70.878679656, 50.878679656), (89.121320344, 69.121320344))
            ThreePointArc((89.121320344, 69.121320344), (89.771638598, 70.09459039), (90, 71.242640687))
            Line((90, 71.242640687), (90, 78.757359313))
            ThreePointArc((90, 78.757359313), (89.771638598, 79.90540961), (89.121320344, 80.878679656))
            Line((89.121320344, 80.878679656), (80.878679656, 89.121320344))
            ThreePointArc((80.878679656, 89.121320344), (79.90540961, 89.771638598), (78.757359313, 90))
        make_face()
        with Locations(Location((-65, 0, 0), (0, 0, 270))):
            Circle(SKETCH_8_R)
        with Locations(Location((-25, 0, 0), (0, 0, 270))):
            Circle(SKETCH_8_R)
        with Locations(Location((25, 0, 0), (0, 0, 90))):
            Circle(SKETCH_8_R)
        with Locations(Location((65, 0, 0), (0, 0, 90))):
            Circle(SKETCH_8_R)
    extrude(amount=CUT_EXTRUDE_6_DEPTH + CUT_EXTRUDE_6_DEPTH_BACK, mode=Mode.SUBTRACT)

    # 圆角4
    fillet_4_edges = [part.edges().sort_by_distance(p)[0] for p in [
        (-70, 1, 90),
        (70, 1, 90),
        (70, 1, -90),
        (-70, 1, -90),
    ]]
    fillet(fillet_4_edges, radius=FILLET_4_R)


solid = part.part
